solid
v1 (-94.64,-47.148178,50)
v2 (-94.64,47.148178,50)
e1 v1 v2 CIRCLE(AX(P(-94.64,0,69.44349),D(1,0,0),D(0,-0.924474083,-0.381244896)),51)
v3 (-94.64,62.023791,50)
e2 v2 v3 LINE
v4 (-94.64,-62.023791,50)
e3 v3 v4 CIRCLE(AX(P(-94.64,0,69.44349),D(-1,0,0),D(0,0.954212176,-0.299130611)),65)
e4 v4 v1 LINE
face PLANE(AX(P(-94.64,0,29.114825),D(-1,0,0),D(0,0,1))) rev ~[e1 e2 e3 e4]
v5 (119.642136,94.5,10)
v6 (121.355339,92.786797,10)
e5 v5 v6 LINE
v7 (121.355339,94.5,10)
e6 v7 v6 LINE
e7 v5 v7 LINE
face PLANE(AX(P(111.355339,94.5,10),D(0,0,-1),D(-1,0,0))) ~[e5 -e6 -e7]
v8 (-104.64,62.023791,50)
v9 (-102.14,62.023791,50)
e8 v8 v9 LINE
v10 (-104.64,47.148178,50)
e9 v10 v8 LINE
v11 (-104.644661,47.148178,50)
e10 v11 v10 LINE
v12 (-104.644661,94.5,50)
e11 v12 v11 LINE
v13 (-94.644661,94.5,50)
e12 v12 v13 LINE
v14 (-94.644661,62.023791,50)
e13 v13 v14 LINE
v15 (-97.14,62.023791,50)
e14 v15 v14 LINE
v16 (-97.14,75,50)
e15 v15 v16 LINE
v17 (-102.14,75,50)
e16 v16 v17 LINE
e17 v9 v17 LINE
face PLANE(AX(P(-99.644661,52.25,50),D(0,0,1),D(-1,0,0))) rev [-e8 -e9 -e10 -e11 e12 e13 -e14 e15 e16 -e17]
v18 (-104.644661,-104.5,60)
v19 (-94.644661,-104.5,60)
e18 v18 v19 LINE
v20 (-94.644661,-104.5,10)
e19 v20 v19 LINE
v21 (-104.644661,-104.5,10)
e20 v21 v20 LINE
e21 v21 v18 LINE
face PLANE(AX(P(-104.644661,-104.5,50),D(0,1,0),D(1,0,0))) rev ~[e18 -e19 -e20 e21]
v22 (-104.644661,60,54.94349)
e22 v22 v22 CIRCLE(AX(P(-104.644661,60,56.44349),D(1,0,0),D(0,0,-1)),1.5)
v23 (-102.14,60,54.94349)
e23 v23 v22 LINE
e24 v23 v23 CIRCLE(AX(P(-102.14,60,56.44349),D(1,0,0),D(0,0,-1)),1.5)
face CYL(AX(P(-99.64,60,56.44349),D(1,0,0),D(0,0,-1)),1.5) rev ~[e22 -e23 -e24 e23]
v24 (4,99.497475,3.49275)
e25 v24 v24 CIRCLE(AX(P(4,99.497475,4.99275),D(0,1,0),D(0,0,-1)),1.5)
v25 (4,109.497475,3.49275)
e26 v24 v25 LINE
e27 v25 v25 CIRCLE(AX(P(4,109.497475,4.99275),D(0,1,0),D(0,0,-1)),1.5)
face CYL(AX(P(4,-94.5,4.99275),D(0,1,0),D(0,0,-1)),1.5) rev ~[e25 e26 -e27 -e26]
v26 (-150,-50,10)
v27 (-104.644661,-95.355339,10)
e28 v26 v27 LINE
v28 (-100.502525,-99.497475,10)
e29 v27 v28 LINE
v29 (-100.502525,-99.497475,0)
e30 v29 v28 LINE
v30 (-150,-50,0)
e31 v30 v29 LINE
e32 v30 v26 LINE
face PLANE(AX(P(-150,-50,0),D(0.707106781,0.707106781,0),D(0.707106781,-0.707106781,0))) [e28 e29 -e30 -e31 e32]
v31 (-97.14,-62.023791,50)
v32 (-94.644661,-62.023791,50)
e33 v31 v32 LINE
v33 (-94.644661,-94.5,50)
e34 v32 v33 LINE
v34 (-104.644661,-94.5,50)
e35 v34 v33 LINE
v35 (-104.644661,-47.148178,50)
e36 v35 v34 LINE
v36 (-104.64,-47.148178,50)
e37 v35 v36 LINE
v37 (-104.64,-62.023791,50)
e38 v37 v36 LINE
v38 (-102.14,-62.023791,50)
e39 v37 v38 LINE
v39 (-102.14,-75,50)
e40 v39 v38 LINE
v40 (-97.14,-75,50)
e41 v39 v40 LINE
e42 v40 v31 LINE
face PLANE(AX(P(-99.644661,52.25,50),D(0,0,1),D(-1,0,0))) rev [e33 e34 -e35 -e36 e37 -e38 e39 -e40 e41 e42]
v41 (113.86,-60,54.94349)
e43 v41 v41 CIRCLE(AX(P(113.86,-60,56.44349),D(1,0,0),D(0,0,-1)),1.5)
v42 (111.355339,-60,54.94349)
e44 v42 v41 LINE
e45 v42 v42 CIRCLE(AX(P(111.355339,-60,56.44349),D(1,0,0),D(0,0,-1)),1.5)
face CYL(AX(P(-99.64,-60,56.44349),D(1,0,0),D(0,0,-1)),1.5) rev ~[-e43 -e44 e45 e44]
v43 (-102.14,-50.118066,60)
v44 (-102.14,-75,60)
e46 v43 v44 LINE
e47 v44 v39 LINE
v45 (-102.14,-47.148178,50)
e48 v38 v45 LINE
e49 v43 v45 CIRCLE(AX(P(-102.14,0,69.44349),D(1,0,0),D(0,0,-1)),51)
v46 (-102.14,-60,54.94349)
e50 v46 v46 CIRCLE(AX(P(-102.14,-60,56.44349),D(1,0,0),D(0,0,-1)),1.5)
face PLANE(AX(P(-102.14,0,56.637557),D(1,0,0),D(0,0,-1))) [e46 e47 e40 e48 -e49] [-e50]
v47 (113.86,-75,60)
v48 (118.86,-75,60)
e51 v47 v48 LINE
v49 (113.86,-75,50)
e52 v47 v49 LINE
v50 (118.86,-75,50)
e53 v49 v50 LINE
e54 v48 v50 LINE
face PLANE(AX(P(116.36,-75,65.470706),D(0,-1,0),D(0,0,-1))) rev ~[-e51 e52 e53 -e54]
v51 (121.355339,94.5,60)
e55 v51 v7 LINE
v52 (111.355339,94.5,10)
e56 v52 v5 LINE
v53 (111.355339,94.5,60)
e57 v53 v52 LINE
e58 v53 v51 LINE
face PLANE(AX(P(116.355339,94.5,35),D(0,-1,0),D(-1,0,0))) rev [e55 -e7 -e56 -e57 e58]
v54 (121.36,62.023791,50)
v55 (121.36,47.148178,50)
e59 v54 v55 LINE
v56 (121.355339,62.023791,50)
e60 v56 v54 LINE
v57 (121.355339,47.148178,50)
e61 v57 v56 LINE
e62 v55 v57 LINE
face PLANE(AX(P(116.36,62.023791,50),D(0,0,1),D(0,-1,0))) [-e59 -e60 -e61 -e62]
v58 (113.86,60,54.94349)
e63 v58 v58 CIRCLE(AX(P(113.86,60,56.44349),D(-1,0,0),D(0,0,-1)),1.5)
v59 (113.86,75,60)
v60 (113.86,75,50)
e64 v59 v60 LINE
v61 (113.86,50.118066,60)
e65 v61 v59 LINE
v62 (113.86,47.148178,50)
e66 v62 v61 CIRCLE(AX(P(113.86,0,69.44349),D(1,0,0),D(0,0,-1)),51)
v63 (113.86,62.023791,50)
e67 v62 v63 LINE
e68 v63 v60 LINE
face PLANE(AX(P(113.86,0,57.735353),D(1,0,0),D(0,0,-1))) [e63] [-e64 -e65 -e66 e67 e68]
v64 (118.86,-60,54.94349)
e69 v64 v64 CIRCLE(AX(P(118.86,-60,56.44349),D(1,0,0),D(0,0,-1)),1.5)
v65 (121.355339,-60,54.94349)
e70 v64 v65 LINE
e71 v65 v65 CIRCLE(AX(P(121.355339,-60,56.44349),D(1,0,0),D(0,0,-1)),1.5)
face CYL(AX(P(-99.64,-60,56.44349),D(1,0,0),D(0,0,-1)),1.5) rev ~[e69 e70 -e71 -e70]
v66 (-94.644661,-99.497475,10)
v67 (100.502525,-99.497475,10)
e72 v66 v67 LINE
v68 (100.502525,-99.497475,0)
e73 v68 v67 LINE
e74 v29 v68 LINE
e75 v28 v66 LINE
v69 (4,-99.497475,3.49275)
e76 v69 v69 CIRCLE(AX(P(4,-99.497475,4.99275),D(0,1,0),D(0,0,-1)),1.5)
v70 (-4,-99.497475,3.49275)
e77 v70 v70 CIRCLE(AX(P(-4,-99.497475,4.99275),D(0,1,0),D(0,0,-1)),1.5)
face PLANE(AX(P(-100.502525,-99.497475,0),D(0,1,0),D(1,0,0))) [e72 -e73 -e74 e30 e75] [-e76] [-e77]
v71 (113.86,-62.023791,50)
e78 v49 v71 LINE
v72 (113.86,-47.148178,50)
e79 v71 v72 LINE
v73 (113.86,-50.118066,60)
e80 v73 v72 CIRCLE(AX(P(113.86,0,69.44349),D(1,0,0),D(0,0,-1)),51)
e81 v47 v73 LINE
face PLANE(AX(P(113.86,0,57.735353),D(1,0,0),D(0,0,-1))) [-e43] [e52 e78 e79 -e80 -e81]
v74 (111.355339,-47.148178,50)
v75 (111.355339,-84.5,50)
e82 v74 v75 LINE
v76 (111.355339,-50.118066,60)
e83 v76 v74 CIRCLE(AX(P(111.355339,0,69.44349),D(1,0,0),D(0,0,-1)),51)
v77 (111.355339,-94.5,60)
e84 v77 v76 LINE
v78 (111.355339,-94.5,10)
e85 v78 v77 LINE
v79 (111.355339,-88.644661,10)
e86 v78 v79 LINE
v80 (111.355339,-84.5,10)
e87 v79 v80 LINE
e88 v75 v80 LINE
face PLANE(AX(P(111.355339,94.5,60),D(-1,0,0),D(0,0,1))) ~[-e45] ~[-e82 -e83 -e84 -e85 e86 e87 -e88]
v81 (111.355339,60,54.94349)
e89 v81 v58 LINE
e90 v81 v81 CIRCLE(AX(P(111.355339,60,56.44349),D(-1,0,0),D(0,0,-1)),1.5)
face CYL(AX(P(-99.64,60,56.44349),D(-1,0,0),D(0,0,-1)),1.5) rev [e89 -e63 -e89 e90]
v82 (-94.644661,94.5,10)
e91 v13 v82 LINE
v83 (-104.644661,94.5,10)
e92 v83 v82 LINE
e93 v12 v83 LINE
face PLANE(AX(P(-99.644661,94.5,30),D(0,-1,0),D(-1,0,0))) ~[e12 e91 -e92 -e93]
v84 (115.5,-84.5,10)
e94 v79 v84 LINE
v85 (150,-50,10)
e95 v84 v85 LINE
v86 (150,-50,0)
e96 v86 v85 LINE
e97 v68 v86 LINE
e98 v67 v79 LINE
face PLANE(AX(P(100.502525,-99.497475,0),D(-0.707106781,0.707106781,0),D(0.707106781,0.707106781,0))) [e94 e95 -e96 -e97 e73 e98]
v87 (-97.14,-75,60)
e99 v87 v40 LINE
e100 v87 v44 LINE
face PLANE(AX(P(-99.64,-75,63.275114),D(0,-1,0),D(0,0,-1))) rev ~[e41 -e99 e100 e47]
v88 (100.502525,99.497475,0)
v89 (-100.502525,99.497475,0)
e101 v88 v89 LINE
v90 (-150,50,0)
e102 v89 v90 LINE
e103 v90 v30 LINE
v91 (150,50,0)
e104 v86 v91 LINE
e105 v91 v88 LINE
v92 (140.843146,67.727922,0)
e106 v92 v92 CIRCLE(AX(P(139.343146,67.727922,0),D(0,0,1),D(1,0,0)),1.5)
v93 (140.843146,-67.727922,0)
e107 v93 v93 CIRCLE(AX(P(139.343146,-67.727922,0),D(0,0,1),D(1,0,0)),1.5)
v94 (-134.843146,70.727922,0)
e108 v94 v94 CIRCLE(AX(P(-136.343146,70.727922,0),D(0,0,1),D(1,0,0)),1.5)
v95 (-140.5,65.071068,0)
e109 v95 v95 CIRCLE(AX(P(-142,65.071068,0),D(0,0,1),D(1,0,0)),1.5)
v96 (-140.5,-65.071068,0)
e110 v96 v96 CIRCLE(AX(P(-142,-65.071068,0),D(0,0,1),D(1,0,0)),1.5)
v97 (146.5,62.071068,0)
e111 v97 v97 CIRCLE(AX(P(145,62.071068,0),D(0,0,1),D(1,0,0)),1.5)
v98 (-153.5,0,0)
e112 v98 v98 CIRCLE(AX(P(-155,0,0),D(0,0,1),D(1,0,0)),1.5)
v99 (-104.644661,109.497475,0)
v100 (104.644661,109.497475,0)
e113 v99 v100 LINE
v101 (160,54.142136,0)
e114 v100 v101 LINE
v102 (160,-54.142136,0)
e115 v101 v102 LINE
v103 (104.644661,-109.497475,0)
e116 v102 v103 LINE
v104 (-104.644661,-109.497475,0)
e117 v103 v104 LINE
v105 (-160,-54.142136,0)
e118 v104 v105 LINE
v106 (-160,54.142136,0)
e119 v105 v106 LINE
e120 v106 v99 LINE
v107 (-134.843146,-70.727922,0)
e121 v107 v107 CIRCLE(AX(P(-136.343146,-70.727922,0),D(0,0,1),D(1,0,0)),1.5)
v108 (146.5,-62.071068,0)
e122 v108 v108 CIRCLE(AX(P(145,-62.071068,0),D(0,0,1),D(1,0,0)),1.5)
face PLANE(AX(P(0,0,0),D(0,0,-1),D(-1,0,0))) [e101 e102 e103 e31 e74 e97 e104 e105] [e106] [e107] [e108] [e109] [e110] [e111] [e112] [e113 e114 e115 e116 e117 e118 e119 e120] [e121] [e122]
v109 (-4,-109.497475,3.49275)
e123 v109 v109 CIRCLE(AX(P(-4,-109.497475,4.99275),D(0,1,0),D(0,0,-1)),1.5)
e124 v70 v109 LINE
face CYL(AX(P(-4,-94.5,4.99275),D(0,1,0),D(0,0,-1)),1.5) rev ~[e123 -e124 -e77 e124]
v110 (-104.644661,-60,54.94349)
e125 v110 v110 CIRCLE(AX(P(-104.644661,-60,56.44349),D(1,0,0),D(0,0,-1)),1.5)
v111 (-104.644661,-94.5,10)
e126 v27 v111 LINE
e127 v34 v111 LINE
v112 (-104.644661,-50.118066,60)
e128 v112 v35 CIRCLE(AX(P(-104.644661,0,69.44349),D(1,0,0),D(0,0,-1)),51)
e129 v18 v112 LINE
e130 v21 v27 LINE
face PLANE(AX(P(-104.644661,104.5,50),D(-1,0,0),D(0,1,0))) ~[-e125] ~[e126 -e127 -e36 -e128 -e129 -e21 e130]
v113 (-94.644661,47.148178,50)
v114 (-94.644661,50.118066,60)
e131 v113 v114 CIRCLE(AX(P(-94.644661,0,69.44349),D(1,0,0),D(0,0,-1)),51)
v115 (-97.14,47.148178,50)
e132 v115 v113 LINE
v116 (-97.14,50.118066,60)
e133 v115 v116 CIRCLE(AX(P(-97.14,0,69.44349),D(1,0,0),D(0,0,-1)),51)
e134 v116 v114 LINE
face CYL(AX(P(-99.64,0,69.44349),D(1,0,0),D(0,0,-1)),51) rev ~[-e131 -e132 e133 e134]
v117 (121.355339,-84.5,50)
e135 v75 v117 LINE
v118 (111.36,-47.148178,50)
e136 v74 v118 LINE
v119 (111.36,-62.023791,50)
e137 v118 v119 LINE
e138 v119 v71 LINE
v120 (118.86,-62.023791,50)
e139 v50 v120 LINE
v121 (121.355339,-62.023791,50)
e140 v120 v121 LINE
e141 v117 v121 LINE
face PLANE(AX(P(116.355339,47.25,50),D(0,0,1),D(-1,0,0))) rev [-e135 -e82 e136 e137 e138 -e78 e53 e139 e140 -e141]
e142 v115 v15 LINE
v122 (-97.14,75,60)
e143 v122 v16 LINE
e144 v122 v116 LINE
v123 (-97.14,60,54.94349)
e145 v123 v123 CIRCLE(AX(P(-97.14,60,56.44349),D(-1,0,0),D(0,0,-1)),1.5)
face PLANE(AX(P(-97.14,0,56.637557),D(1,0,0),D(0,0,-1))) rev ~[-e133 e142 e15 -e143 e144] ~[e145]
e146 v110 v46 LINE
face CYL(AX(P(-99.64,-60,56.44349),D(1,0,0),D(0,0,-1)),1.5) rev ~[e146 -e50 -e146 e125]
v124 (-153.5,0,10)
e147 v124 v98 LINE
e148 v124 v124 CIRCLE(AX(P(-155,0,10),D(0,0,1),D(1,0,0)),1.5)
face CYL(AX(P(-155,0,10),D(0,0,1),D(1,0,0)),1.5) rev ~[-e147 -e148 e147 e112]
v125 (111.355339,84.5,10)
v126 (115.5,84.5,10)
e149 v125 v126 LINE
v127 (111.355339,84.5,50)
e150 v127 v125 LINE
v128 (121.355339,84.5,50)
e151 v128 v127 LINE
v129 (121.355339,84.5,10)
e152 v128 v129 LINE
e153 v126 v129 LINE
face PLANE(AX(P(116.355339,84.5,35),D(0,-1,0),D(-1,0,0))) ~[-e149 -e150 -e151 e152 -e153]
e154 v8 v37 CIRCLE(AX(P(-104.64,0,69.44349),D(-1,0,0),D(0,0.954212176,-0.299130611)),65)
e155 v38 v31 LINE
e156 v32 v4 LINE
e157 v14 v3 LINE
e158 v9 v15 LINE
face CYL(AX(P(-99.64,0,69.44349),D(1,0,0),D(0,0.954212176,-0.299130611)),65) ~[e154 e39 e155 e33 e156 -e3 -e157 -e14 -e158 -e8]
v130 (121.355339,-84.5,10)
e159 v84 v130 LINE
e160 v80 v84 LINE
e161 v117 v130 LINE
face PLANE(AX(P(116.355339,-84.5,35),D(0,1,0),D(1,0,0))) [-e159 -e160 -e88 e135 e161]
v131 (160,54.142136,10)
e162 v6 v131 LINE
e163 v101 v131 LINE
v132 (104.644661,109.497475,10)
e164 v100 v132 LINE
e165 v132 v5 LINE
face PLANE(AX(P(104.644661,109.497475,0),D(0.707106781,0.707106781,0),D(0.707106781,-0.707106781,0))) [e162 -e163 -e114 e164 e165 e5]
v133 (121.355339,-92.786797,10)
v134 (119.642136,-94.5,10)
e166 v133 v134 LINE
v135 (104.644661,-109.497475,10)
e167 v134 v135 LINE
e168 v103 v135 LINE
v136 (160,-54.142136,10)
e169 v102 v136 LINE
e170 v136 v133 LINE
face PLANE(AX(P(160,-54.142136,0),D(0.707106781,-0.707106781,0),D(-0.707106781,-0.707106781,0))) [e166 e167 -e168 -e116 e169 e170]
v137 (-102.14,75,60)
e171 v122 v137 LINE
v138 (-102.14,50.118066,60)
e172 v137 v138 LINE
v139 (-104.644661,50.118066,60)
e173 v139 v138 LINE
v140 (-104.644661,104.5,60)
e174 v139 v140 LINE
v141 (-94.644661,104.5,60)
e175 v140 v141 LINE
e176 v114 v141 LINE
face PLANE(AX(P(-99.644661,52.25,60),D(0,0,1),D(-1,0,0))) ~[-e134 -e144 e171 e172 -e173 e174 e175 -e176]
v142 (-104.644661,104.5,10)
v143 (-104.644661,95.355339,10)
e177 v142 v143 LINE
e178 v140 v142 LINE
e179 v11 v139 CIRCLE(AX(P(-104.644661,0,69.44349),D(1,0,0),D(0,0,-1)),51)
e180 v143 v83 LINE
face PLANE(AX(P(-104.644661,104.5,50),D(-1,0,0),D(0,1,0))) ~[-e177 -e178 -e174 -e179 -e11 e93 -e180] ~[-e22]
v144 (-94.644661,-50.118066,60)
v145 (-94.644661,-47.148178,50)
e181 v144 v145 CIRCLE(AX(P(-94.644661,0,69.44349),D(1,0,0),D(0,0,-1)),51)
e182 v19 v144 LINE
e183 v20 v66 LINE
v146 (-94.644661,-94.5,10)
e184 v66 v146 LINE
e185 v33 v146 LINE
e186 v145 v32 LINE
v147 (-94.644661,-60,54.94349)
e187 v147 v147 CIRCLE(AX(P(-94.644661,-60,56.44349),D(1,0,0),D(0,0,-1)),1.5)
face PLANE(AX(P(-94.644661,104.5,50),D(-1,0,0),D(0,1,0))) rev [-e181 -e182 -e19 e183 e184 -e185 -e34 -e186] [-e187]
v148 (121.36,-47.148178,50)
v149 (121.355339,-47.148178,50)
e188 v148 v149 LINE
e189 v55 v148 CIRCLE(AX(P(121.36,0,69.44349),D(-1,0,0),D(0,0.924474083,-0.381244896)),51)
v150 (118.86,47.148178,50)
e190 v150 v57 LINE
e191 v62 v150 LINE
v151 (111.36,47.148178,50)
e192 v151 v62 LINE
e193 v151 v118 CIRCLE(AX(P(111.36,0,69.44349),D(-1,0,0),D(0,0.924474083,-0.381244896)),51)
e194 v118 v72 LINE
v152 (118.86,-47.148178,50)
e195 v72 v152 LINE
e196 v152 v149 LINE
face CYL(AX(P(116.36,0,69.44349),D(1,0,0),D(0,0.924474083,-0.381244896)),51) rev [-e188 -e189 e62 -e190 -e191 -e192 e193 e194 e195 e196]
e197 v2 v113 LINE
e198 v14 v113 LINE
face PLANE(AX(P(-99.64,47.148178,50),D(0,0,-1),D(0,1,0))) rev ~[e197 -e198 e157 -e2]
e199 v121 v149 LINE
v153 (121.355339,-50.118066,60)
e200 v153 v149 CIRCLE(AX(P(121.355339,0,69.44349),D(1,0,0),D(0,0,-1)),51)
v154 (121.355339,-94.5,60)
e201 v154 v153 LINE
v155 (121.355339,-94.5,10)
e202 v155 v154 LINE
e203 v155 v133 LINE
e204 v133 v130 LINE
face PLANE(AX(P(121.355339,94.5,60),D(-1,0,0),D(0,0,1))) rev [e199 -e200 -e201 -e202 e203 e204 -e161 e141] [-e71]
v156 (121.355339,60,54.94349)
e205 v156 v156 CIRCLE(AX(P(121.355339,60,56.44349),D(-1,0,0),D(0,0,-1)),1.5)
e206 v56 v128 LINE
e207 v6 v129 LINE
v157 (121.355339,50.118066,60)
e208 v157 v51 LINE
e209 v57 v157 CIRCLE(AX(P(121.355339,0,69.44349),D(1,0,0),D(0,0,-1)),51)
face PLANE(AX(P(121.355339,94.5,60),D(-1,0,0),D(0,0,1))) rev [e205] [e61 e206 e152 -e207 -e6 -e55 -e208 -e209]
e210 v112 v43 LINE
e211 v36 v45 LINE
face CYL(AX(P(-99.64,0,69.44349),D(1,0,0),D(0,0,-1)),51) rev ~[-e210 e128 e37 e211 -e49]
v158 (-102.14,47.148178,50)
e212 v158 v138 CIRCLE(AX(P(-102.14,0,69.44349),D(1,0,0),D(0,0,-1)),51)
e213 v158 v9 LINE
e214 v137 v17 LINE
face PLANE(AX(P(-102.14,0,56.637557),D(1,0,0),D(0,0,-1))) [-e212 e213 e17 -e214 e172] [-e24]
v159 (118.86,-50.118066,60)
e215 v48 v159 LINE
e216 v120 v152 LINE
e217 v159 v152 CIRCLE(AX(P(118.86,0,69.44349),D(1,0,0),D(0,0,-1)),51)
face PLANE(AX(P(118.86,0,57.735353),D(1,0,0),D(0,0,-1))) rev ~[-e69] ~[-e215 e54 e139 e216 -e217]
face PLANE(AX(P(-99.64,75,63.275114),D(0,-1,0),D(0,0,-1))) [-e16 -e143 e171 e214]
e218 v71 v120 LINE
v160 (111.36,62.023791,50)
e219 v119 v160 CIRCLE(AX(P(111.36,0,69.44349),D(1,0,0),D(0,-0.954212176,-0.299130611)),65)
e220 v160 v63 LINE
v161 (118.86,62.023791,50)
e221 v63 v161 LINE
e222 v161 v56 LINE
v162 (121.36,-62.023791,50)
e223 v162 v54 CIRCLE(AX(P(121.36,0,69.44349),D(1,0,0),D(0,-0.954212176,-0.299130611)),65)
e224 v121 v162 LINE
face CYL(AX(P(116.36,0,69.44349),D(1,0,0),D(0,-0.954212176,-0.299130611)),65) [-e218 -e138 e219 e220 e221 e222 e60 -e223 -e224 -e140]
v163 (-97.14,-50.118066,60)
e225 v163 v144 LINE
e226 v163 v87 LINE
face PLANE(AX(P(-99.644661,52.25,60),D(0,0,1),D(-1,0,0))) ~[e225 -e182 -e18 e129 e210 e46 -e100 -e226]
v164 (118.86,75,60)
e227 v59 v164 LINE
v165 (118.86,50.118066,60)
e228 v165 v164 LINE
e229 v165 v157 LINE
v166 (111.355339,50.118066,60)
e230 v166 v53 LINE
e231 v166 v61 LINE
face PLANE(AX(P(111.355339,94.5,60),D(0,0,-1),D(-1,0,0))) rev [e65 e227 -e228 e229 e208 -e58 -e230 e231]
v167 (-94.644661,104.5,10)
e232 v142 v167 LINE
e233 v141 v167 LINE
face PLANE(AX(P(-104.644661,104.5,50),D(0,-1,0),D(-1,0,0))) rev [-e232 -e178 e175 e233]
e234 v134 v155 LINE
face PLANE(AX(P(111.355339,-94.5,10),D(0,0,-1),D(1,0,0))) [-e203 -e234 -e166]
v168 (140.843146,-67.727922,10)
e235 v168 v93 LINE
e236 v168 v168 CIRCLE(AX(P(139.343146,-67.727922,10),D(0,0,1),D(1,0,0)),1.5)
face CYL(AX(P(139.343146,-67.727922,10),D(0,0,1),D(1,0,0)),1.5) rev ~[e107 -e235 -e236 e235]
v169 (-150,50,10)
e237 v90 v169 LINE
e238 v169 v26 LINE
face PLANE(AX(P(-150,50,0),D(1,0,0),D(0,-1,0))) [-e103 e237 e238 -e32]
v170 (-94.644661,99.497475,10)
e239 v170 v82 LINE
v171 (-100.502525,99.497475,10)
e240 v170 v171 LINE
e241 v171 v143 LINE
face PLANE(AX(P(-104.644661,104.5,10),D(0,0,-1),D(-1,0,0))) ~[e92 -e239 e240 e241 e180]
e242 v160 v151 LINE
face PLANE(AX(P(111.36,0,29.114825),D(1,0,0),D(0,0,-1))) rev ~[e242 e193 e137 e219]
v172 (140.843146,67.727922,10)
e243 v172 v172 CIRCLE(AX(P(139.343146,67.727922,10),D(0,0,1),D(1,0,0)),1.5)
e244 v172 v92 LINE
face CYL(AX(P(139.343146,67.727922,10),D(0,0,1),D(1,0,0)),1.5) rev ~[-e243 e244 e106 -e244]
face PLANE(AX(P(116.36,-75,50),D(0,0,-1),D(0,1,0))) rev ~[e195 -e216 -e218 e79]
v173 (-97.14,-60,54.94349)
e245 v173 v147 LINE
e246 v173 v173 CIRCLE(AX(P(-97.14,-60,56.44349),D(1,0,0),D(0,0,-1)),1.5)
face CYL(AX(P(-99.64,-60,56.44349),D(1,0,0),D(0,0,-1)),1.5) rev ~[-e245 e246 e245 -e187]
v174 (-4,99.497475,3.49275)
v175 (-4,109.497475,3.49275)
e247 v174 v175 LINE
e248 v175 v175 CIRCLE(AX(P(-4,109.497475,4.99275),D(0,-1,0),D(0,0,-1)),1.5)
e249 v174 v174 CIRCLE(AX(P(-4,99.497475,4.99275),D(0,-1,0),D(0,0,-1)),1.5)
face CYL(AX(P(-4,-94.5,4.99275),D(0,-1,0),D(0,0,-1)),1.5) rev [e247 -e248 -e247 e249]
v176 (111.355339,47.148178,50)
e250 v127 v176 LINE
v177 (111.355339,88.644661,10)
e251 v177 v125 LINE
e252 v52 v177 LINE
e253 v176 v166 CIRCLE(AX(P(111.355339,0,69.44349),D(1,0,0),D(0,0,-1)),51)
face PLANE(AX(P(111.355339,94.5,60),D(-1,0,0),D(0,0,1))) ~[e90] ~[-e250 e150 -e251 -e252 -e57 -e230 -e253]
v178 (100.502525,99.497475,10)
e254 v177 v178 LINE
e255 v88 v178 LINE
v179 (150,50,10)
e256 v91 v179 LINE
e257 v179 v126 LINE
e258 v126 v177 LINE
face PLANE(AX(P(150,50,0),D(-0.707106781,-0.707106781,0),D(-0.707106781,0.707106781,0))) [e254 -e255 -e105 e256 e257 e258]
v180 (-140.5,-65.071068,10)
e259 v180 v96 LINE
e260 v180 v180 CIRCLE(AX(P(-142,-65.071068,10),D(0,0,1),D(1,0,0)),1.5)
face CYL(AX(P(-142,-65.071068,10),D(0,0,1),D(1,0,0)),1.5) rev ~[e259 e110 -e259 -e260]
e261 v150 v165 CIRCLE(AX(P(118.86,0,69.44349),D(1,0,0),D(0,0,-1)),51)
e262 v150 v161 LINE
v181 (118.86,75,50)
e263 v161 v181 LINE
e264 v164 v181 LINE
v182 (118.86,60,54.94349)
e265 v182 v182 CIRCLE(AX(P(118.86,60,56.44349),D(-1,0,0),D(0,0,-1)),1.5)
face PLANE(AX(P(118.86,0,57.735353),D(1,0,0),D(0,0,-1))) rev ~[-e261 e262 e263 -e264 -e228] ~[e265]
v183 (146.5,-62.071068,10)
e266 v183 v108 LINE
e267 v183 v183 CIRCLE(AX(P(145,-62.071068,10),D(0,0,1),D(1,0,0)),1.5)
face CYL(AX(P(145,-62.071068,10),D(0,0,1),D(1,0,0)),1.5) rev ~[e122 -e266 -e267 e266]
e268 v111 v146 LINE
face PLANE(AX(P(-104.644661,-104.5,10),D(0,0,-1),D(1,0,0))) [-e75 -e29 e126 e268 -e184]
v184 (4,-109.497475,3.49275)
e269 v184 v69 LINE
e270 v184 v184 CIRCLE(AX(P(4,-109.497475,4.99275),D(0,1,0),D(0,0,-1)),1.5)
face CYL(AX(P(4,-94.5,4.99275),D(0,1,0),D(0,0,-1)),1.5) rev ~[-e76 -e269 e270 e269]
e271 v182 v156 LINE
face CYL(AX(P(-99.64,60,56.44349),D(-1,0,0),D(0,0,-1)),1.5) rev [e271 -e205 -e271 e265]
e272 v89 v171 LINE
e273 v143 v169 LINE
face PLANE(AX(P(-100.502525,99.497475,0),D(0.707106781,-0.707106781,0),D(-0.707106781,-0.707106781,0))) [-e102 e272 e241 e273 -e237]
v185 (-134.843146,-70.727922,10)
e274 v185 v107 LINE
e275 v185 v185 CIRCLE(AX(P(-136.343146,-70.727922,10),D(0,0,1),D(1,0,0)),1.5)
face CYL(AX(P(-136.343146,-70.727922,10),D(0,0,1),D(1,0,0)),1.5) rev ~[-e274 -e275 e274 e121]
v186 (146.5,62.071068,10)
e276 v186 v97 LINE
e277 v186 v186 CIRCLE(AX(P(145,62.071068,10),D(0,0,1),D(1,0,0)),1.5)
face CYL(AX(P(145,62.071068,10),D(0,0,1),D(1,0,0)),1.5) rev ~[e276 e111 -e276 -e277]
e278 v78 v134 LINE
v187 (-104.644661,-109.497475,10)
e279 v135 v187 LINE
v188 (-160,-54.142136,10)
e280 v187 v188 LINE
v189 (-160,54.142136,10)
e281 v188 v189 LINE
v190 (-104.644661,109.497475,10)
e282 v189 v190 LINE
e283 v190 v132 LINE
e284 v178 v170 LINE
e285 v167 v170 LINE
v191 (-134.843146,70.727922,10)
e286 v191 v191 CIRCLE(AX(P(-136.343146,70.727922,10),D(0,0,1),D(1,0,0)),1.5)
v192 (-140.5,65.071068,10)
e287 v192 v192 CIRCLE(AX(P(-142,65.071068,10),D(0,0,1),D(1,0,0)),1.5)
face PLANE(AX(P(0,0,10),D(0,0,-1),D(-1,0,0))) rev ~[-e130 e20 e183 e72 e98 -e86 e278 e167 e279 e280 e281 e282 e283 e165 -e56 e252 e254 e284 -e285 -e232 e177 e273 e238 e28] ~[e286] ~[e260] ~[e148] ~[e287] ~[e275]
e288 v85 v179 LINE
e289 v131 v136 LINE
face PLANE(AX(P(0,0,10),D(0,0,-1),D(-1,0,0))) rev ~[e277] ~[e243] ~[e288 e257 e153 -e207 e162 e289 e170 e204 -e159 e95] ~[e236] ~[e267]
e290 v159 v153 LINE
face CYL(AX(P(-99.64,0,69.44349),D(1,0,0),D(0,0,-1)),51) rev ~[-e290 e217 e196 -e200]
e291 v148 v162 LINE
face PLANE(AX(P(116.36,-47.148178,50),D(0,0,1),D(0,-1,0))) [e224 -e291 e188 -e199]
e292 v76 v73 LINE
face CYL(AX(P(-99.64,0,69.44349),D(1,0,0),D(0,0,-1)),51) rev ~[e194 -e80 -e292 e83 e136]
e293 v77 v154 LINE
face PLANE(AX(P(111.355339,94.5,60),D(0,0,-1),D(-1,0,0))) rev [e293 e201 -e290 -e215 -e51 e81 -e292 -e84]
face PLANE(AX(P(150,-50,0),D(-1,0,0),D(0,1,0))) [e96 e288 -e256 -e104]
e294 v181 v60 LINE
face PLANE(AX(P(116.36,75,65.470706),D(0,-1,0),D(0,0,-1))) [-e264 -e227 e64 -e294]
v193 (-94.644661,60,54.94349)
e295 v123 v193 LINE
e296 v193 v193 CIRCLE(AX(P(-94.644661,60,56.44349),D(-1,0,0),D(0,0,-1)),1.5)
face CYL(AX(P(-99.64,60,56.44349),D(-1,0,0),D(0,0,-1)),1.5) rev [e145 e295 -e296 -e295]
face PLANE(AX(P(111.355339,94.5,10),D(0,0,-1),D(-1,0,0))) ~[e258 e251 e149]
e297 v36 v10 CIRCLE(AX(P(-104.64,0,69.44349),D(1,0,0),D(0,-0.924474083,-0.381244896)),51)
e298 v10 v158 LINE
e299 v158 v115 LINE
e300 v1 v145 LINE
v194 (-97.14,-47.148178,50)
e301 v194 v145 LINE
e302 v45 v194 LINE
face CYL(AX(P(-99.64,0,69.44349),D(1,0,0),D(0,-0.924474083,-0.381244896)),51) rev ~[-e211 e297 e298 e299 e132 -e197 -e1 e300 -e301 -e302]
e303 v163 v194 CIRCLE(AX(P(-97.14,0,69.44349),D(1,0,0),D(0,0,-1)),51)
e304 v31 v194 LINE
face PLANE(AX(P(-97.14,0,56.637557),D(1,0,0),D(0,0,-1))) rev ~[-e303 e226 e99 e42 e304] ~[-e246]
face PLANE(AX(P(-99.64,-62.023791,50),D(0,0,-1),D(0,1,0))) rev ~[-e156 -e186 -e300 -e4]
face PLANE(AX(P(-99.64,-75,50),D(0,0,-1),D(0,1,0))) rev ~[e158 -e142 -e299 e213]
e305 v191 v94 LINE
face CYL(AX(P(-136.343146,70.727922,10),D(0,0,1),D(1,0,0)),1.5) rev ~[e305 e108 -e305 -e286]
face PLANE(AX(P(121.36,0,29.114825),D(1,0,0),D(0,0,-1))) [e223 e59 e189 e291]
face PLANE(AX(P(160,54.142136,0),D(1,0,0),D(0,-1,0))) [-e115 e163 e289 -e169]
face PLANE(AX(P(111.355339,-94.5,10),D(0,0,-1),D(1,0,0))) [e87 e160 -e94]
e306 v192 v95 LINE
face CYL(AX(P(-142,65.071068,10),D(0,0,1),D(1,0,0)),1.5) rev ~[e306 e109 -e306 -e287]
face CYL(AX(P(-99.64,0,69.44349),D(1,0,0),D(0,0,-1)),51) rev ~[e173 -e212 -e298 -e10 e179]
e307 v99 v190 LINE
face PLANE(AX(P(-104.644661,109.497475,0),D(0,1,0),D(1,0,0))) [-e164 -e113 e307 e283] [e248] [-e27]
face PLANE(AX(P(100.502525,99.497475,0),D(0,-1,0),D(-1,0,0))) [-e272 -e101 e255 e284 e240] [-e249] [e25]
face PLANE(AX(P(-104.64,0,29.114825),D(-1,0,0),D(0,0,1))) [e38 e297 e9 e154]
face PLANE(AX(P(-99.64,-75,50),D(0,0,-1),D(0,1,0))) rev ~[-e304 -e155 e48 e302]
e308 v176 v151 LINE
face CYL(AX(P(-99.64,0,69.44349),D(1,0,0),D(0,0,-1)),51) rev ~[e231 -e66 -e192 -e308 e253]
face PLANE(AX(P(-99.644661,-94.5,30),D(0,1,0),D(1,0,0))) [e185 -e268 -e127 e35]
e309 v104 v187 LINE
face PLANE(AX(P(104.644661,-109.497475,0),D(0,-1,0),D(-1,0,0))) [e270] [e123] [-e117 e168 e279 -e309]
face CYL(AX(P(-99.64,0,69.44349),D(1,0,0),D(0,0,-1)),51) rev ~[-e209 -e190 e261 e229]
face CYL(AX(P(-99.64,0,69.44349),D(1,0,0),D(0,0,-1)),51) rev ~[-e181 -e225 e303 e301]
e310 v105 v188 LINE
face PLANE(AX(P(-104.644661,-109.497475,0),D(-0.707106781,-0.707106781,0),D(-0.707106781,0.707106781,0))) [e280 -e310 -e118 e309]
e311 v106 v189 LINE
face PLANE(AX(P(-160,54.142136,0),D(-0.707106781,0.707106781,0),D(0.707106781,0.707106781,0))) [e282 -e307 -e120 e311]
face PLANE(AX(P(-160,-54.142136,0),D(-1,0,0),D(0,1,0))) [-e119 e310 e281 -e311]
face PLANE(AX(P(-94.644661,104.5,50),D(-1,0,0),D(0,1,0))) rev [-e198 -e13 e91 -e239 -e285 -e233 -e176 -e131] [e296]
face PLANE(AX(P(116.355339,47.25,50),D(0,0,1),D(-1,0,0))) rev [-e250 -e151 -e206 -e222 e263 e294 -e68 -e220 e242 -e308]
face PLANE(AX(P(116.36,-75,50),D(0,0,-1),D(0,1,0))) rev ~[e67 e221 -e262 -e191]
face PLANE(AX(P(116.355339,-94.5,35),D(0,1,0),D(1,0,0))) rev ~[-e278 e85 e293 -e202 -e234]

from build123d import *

# Parameters (mm, degrees)
Y_KSEKLIK_EKSTR_ZYON2_DEPTH = 10
IZIM3_W                     = 10
IZIM3_H                     = 40
Y_KSEKLIK_EKSTR_ZYON3_DEPTH = 10
IZIM4_W                     = 10
IZIM4_H                     = 104.5
Y_KSEKLIK_EKSTR_ZYON4_DEPTH = 10
IZIM6_W                     = 10
IZIM6_H                     = 50
Y_KSEKLIK_EKSTR_ZYON5_DEPTH = 10
IZIM7_W                     = 10
IZIM7_H                     = 94.5
Y_KSEKLIK_EKSTR_ZYON6_DEPTH = 10
IZIM8_R                     = 1.5
KES_EKSTR_ZYON1_DEPTH       = 35
IZIM9_R                     = 1.5
KES_EKSTR_ZYON2_DEPTH       = 265.5
IZIM12_R                    = 51
KES_EKSTR_ZYON4_DEPTH       = 338
Y_KSEKLIK_EKSTR_ZYON7_DEPTH = 5
Y_KSEKLIK_EKSTR_ZYON8_DEPTH = 5
IZIM21_W                    = 13.275114184
IZIM21_H                    = 150
KES_EKSTR_ZYON5_DEPTH       = 2.5
IZIM22_W                    = 15.470706389
IZIM22_H                    = 150
KES_EKSTR_ZYON6_DEPTH       = 2.5
IZIM23_R                    = 1.5
KES_EKSTR_ZYON7_DEPTH       = 242


with BuildPart() as part:
    # Çizim1 → Yükseklik-Ekstrüzyon2 (new body)
    with BuildSketch(Plane.XY):
        Polygon((-160, 54.142135624), (-104.644660941, 109.497474683), (104.644660941, 109.497474683), (160, 54.142135624), (160, -54.142135624), (104.644660941, -109.497474683), (-104.644660941, -109.497474683), (-160, -54.142135624), align=None)
        Polygon((-150, 50), (-150, -50), (-100.502525317, -99.497474683), (100.502525317, -99.497474683), (150, -50), (150, 50), (100.502525317, 99.497474683), (-100.502525317, 99.497474683), align=None, mode=Mode.SUBTRACT)
    extrude(amount=Y_KSEKLIK_EKSTR_ZYON2_DEPTH)

    # Çizim3 → Yükseklik-Ekstrüzyon3 (add)
    with BuildSketch(Plane(origin=(0, -104.5, 0), x_dir=(1, 0, 0), z_dir=(0, 1, 0))):
        with Locations((-99.644660941, -30)):
            Rectangle(IZIM3_W, IZIM3_H)
    y_kseklik_ekstr_zyon3 = extrude(amount=Y_KSEKLIK_EKSTR_ZYON3_DEPTH)

    # Çizim4 → Yükseklik-Ekstrüzyon4 (add)
    with BuildSketch(Plane.XY.offset(50)):
        with Locations((-99.644660941, -52.25)):
            Rectangle(IZIM4_W, IZIM4_H)
    y_kseklik_ekstr_zyon4 = extrude(amount=Y_KSEKLIK_EKSTR_ZYON4_DEPTH)

    # Çizim6 → Yükseklik-Ekstrüzyon5 (add)
    with BuildSketch(Plane(origin=(0, -94.5, 0), x_dir=(1, 0, 0), z_dir=(0, 1, 0))):
        with Locations((116.355339059, -35)):
            Rectangle(IZIM6_W, IZIM6_H)
    y_kseklik_ekstr_zyon5 = extrude(amount=Y_KSEKLIK_EKSTR_ZYON5_DEPTH)

    # Çizim7 → Yükseklik-Ekstrüzyon6 (add)
    with BuildSketch(Plane.XY.offset(50)):
        with Locations((116.355339059, -47.25)):
            Rectangle(IZIM7_W, IZIM7_H)
    y_kseklik_ekstr_zyon6 = extrude(amount=Y_KSEKLIK_EKSTR_ZYON6_DEPTH)

    # Aynalama1: Yükseklik-Ekstrüzyon3, Yükseklik-Ekstrüzyon4, Yükseklik-Ekstrüzyon5, Yükseklik-Ekstrüzyon6 across plane
    add(y_kseklik_ekstr_zyon3.mirror(Plane.ZX))
    add(y_kseklik_ekstr_zyon4.mirror(Plane.ZX))
    add(y_kseklik_ekstr_zyon5.mirror(Plane.ZX))
    add(y_kseklik_ekstr_zyon6.mirror(Plane.ZX))

    # Çizim8 → Kes-Ekstrüzyon1 (cut)
    with BuildSketch(Plane.XY.offset(10)):
        with Locations((145, 62.071067812)):
            Circle(IZIM8_R)
        with Locations((139.343145751, 67.727922061)):
            Circle(IZIM8_R)
        with Locations((139.343145751, -67.727922061)):
            Circle(IZIM8_R)
        with Locations((145, -62.071067812)):
            Circle(IZIM8_R)
        with Locations((-136.343145751, 70.727922061)):
            Circle(IZIM8_R)
        with Locations((-142, 65.071067812)):
            Circle(IZIM8_R)
        with Locations((-136.343145751, -70.727922061)):
            Circle(IZIM8_R)
        with Locations((-142, -65.071067812)):
            Circle(IZIM8_R)
        with Locations((-155, 0)):
            Circle(IZIM8_R)
    extrude(amount=-KES_EKSTR_ZYON1_DEPTH, mode=Mode.SUBTRACT)

    # Çizim9 → Kes-Ekstrüzyon2 (cut, symmetric)
    with BuildSketch(Plane(origin=(0, -94.5, 0), x_dir=(1, 0, 0), z_dir=(0, 1, 0))):
        with Locations(Location((-4, -4.992750184, 0), (0, 0, 90))):
            Circle(IZIM9_R)
        with Locations(Location((4, -4.992750184, 0), (0, 0, 90))):
            Circle(IZIM9_R)
    extrude(amount=KES_EKSTR_ZYON2_DEPTH, both=True, mode=Mode.SUBTRACT)

    # Çizim12 → Kes-Ekstrüzyon4 (cut, symmetric)
    with BuildSketch(Plane(origin=(-99.64, 0, 0), x_dir=(0, 0, -1), z_dir=(1, 0, 0))):
        with Locations((-69.443489697, 0)):
            Circle(IZIM12_R)
    extrude(amount=KES_EKSTR_ZYON4_DEPTH, both=True, mode=Mode.SUBTRACT)

    # Çizim19 → Yükseklik-Ekstrüzyon7 (add, symmetric)
    with BuildSketch(Plane(origin=(-99.64, 0, 0), x_dir=(0, 0, -1), z_dir=(1, 0, 0))):
        with BuildLine():
            Line((-50, -62.023791471), (-50, -47.148178209))
            ThreePointArc((-50, -47.148178209), (-18.443489697, 0), (-50, 47.148178209))
            Line((-50, 47.148178209), (-50, 62.023791471))
            ThreePointArc((-50, 62.023791471), (-4.443489697, 0), (-50, -62.023791471))
        make_face()
    extrude(amount=Y_KSEKLIK_EKSTR_ZYON7_DEPTH, both=True)

    # Çizim20 → Yükseklik-Ekstrüzyon8 (add, symmetric)
    with BuildSketch(Plane(origin=(116.36, 0, 0), x_dir=(0, 0, -1), z_dir=(1, 0, 0))):
        with BuildLine():
            Line((-50, -47.148178209), (-50, -62.023791471))
            ThreePointArc((-50, -62.023791471), (-4.443489697, 0), (-50, 62.023791471))
            Line((-50, 62.023791471), (-50, 47.148178209))
            ThreePointArc((-50, 47.148178209), (-18.443489697, 0), (-50, -47.148178209))
        make_face()
    extrude(amount=Y_KSEKLIK_EKSTR_ZYON8_DEPTH, both=True)

    # Çizim21 → Kes-Ekstrüzyon5 (cut, symmetric)
    with BuildSketch(Plane(origin=(-99.64, 0, 0), x_dir=(0, 0, -1), z_dir=(1, 0, 0))):
        with Locations((-56.637557092, 0)):
            Rectangle(IZIM21_W, IZIM21_H)
    extrude(amount=KES_EKSTR_ZYON5_DEPTH, both=True, mode=Mode.SUBTRACT)

    # Çizim22 → Kes-Ekstrüzyon6 (cut, symmetric)
    with BuildSketch(Plane(origin=(116.36, 0, 0), x_dir=(0, 0, -1), z_dir=(1, 0, 0))):
        with Locations((-57.735353195, 0)):
            Rectangle(IZIM22_W, IZIM22_H)
    extrude(amount=KES_EKSTR_ZYON6_DEPTH, both=True, mode=Mode.SUBTRACT)

    # Çizim23 → Kes-Ekstrüzyon7 (cut, symmetric)
    with BuildSketch(Plane(origin=(-99.64, 0, 0), x_dir=(0, 0, -1), z_dir=(1, 0, 0))):
        with Locations((-56.443489697, 60)):
            Circle(IZIM23_R)
        with Locations((-56.443489697, -60)):
            Circle(IZIM23_R)
    extrude(amount=KES_EKSTR_ZYON7_DEPTH, both=True, mode=Mode.SUBTRACT)


solid = part.part
